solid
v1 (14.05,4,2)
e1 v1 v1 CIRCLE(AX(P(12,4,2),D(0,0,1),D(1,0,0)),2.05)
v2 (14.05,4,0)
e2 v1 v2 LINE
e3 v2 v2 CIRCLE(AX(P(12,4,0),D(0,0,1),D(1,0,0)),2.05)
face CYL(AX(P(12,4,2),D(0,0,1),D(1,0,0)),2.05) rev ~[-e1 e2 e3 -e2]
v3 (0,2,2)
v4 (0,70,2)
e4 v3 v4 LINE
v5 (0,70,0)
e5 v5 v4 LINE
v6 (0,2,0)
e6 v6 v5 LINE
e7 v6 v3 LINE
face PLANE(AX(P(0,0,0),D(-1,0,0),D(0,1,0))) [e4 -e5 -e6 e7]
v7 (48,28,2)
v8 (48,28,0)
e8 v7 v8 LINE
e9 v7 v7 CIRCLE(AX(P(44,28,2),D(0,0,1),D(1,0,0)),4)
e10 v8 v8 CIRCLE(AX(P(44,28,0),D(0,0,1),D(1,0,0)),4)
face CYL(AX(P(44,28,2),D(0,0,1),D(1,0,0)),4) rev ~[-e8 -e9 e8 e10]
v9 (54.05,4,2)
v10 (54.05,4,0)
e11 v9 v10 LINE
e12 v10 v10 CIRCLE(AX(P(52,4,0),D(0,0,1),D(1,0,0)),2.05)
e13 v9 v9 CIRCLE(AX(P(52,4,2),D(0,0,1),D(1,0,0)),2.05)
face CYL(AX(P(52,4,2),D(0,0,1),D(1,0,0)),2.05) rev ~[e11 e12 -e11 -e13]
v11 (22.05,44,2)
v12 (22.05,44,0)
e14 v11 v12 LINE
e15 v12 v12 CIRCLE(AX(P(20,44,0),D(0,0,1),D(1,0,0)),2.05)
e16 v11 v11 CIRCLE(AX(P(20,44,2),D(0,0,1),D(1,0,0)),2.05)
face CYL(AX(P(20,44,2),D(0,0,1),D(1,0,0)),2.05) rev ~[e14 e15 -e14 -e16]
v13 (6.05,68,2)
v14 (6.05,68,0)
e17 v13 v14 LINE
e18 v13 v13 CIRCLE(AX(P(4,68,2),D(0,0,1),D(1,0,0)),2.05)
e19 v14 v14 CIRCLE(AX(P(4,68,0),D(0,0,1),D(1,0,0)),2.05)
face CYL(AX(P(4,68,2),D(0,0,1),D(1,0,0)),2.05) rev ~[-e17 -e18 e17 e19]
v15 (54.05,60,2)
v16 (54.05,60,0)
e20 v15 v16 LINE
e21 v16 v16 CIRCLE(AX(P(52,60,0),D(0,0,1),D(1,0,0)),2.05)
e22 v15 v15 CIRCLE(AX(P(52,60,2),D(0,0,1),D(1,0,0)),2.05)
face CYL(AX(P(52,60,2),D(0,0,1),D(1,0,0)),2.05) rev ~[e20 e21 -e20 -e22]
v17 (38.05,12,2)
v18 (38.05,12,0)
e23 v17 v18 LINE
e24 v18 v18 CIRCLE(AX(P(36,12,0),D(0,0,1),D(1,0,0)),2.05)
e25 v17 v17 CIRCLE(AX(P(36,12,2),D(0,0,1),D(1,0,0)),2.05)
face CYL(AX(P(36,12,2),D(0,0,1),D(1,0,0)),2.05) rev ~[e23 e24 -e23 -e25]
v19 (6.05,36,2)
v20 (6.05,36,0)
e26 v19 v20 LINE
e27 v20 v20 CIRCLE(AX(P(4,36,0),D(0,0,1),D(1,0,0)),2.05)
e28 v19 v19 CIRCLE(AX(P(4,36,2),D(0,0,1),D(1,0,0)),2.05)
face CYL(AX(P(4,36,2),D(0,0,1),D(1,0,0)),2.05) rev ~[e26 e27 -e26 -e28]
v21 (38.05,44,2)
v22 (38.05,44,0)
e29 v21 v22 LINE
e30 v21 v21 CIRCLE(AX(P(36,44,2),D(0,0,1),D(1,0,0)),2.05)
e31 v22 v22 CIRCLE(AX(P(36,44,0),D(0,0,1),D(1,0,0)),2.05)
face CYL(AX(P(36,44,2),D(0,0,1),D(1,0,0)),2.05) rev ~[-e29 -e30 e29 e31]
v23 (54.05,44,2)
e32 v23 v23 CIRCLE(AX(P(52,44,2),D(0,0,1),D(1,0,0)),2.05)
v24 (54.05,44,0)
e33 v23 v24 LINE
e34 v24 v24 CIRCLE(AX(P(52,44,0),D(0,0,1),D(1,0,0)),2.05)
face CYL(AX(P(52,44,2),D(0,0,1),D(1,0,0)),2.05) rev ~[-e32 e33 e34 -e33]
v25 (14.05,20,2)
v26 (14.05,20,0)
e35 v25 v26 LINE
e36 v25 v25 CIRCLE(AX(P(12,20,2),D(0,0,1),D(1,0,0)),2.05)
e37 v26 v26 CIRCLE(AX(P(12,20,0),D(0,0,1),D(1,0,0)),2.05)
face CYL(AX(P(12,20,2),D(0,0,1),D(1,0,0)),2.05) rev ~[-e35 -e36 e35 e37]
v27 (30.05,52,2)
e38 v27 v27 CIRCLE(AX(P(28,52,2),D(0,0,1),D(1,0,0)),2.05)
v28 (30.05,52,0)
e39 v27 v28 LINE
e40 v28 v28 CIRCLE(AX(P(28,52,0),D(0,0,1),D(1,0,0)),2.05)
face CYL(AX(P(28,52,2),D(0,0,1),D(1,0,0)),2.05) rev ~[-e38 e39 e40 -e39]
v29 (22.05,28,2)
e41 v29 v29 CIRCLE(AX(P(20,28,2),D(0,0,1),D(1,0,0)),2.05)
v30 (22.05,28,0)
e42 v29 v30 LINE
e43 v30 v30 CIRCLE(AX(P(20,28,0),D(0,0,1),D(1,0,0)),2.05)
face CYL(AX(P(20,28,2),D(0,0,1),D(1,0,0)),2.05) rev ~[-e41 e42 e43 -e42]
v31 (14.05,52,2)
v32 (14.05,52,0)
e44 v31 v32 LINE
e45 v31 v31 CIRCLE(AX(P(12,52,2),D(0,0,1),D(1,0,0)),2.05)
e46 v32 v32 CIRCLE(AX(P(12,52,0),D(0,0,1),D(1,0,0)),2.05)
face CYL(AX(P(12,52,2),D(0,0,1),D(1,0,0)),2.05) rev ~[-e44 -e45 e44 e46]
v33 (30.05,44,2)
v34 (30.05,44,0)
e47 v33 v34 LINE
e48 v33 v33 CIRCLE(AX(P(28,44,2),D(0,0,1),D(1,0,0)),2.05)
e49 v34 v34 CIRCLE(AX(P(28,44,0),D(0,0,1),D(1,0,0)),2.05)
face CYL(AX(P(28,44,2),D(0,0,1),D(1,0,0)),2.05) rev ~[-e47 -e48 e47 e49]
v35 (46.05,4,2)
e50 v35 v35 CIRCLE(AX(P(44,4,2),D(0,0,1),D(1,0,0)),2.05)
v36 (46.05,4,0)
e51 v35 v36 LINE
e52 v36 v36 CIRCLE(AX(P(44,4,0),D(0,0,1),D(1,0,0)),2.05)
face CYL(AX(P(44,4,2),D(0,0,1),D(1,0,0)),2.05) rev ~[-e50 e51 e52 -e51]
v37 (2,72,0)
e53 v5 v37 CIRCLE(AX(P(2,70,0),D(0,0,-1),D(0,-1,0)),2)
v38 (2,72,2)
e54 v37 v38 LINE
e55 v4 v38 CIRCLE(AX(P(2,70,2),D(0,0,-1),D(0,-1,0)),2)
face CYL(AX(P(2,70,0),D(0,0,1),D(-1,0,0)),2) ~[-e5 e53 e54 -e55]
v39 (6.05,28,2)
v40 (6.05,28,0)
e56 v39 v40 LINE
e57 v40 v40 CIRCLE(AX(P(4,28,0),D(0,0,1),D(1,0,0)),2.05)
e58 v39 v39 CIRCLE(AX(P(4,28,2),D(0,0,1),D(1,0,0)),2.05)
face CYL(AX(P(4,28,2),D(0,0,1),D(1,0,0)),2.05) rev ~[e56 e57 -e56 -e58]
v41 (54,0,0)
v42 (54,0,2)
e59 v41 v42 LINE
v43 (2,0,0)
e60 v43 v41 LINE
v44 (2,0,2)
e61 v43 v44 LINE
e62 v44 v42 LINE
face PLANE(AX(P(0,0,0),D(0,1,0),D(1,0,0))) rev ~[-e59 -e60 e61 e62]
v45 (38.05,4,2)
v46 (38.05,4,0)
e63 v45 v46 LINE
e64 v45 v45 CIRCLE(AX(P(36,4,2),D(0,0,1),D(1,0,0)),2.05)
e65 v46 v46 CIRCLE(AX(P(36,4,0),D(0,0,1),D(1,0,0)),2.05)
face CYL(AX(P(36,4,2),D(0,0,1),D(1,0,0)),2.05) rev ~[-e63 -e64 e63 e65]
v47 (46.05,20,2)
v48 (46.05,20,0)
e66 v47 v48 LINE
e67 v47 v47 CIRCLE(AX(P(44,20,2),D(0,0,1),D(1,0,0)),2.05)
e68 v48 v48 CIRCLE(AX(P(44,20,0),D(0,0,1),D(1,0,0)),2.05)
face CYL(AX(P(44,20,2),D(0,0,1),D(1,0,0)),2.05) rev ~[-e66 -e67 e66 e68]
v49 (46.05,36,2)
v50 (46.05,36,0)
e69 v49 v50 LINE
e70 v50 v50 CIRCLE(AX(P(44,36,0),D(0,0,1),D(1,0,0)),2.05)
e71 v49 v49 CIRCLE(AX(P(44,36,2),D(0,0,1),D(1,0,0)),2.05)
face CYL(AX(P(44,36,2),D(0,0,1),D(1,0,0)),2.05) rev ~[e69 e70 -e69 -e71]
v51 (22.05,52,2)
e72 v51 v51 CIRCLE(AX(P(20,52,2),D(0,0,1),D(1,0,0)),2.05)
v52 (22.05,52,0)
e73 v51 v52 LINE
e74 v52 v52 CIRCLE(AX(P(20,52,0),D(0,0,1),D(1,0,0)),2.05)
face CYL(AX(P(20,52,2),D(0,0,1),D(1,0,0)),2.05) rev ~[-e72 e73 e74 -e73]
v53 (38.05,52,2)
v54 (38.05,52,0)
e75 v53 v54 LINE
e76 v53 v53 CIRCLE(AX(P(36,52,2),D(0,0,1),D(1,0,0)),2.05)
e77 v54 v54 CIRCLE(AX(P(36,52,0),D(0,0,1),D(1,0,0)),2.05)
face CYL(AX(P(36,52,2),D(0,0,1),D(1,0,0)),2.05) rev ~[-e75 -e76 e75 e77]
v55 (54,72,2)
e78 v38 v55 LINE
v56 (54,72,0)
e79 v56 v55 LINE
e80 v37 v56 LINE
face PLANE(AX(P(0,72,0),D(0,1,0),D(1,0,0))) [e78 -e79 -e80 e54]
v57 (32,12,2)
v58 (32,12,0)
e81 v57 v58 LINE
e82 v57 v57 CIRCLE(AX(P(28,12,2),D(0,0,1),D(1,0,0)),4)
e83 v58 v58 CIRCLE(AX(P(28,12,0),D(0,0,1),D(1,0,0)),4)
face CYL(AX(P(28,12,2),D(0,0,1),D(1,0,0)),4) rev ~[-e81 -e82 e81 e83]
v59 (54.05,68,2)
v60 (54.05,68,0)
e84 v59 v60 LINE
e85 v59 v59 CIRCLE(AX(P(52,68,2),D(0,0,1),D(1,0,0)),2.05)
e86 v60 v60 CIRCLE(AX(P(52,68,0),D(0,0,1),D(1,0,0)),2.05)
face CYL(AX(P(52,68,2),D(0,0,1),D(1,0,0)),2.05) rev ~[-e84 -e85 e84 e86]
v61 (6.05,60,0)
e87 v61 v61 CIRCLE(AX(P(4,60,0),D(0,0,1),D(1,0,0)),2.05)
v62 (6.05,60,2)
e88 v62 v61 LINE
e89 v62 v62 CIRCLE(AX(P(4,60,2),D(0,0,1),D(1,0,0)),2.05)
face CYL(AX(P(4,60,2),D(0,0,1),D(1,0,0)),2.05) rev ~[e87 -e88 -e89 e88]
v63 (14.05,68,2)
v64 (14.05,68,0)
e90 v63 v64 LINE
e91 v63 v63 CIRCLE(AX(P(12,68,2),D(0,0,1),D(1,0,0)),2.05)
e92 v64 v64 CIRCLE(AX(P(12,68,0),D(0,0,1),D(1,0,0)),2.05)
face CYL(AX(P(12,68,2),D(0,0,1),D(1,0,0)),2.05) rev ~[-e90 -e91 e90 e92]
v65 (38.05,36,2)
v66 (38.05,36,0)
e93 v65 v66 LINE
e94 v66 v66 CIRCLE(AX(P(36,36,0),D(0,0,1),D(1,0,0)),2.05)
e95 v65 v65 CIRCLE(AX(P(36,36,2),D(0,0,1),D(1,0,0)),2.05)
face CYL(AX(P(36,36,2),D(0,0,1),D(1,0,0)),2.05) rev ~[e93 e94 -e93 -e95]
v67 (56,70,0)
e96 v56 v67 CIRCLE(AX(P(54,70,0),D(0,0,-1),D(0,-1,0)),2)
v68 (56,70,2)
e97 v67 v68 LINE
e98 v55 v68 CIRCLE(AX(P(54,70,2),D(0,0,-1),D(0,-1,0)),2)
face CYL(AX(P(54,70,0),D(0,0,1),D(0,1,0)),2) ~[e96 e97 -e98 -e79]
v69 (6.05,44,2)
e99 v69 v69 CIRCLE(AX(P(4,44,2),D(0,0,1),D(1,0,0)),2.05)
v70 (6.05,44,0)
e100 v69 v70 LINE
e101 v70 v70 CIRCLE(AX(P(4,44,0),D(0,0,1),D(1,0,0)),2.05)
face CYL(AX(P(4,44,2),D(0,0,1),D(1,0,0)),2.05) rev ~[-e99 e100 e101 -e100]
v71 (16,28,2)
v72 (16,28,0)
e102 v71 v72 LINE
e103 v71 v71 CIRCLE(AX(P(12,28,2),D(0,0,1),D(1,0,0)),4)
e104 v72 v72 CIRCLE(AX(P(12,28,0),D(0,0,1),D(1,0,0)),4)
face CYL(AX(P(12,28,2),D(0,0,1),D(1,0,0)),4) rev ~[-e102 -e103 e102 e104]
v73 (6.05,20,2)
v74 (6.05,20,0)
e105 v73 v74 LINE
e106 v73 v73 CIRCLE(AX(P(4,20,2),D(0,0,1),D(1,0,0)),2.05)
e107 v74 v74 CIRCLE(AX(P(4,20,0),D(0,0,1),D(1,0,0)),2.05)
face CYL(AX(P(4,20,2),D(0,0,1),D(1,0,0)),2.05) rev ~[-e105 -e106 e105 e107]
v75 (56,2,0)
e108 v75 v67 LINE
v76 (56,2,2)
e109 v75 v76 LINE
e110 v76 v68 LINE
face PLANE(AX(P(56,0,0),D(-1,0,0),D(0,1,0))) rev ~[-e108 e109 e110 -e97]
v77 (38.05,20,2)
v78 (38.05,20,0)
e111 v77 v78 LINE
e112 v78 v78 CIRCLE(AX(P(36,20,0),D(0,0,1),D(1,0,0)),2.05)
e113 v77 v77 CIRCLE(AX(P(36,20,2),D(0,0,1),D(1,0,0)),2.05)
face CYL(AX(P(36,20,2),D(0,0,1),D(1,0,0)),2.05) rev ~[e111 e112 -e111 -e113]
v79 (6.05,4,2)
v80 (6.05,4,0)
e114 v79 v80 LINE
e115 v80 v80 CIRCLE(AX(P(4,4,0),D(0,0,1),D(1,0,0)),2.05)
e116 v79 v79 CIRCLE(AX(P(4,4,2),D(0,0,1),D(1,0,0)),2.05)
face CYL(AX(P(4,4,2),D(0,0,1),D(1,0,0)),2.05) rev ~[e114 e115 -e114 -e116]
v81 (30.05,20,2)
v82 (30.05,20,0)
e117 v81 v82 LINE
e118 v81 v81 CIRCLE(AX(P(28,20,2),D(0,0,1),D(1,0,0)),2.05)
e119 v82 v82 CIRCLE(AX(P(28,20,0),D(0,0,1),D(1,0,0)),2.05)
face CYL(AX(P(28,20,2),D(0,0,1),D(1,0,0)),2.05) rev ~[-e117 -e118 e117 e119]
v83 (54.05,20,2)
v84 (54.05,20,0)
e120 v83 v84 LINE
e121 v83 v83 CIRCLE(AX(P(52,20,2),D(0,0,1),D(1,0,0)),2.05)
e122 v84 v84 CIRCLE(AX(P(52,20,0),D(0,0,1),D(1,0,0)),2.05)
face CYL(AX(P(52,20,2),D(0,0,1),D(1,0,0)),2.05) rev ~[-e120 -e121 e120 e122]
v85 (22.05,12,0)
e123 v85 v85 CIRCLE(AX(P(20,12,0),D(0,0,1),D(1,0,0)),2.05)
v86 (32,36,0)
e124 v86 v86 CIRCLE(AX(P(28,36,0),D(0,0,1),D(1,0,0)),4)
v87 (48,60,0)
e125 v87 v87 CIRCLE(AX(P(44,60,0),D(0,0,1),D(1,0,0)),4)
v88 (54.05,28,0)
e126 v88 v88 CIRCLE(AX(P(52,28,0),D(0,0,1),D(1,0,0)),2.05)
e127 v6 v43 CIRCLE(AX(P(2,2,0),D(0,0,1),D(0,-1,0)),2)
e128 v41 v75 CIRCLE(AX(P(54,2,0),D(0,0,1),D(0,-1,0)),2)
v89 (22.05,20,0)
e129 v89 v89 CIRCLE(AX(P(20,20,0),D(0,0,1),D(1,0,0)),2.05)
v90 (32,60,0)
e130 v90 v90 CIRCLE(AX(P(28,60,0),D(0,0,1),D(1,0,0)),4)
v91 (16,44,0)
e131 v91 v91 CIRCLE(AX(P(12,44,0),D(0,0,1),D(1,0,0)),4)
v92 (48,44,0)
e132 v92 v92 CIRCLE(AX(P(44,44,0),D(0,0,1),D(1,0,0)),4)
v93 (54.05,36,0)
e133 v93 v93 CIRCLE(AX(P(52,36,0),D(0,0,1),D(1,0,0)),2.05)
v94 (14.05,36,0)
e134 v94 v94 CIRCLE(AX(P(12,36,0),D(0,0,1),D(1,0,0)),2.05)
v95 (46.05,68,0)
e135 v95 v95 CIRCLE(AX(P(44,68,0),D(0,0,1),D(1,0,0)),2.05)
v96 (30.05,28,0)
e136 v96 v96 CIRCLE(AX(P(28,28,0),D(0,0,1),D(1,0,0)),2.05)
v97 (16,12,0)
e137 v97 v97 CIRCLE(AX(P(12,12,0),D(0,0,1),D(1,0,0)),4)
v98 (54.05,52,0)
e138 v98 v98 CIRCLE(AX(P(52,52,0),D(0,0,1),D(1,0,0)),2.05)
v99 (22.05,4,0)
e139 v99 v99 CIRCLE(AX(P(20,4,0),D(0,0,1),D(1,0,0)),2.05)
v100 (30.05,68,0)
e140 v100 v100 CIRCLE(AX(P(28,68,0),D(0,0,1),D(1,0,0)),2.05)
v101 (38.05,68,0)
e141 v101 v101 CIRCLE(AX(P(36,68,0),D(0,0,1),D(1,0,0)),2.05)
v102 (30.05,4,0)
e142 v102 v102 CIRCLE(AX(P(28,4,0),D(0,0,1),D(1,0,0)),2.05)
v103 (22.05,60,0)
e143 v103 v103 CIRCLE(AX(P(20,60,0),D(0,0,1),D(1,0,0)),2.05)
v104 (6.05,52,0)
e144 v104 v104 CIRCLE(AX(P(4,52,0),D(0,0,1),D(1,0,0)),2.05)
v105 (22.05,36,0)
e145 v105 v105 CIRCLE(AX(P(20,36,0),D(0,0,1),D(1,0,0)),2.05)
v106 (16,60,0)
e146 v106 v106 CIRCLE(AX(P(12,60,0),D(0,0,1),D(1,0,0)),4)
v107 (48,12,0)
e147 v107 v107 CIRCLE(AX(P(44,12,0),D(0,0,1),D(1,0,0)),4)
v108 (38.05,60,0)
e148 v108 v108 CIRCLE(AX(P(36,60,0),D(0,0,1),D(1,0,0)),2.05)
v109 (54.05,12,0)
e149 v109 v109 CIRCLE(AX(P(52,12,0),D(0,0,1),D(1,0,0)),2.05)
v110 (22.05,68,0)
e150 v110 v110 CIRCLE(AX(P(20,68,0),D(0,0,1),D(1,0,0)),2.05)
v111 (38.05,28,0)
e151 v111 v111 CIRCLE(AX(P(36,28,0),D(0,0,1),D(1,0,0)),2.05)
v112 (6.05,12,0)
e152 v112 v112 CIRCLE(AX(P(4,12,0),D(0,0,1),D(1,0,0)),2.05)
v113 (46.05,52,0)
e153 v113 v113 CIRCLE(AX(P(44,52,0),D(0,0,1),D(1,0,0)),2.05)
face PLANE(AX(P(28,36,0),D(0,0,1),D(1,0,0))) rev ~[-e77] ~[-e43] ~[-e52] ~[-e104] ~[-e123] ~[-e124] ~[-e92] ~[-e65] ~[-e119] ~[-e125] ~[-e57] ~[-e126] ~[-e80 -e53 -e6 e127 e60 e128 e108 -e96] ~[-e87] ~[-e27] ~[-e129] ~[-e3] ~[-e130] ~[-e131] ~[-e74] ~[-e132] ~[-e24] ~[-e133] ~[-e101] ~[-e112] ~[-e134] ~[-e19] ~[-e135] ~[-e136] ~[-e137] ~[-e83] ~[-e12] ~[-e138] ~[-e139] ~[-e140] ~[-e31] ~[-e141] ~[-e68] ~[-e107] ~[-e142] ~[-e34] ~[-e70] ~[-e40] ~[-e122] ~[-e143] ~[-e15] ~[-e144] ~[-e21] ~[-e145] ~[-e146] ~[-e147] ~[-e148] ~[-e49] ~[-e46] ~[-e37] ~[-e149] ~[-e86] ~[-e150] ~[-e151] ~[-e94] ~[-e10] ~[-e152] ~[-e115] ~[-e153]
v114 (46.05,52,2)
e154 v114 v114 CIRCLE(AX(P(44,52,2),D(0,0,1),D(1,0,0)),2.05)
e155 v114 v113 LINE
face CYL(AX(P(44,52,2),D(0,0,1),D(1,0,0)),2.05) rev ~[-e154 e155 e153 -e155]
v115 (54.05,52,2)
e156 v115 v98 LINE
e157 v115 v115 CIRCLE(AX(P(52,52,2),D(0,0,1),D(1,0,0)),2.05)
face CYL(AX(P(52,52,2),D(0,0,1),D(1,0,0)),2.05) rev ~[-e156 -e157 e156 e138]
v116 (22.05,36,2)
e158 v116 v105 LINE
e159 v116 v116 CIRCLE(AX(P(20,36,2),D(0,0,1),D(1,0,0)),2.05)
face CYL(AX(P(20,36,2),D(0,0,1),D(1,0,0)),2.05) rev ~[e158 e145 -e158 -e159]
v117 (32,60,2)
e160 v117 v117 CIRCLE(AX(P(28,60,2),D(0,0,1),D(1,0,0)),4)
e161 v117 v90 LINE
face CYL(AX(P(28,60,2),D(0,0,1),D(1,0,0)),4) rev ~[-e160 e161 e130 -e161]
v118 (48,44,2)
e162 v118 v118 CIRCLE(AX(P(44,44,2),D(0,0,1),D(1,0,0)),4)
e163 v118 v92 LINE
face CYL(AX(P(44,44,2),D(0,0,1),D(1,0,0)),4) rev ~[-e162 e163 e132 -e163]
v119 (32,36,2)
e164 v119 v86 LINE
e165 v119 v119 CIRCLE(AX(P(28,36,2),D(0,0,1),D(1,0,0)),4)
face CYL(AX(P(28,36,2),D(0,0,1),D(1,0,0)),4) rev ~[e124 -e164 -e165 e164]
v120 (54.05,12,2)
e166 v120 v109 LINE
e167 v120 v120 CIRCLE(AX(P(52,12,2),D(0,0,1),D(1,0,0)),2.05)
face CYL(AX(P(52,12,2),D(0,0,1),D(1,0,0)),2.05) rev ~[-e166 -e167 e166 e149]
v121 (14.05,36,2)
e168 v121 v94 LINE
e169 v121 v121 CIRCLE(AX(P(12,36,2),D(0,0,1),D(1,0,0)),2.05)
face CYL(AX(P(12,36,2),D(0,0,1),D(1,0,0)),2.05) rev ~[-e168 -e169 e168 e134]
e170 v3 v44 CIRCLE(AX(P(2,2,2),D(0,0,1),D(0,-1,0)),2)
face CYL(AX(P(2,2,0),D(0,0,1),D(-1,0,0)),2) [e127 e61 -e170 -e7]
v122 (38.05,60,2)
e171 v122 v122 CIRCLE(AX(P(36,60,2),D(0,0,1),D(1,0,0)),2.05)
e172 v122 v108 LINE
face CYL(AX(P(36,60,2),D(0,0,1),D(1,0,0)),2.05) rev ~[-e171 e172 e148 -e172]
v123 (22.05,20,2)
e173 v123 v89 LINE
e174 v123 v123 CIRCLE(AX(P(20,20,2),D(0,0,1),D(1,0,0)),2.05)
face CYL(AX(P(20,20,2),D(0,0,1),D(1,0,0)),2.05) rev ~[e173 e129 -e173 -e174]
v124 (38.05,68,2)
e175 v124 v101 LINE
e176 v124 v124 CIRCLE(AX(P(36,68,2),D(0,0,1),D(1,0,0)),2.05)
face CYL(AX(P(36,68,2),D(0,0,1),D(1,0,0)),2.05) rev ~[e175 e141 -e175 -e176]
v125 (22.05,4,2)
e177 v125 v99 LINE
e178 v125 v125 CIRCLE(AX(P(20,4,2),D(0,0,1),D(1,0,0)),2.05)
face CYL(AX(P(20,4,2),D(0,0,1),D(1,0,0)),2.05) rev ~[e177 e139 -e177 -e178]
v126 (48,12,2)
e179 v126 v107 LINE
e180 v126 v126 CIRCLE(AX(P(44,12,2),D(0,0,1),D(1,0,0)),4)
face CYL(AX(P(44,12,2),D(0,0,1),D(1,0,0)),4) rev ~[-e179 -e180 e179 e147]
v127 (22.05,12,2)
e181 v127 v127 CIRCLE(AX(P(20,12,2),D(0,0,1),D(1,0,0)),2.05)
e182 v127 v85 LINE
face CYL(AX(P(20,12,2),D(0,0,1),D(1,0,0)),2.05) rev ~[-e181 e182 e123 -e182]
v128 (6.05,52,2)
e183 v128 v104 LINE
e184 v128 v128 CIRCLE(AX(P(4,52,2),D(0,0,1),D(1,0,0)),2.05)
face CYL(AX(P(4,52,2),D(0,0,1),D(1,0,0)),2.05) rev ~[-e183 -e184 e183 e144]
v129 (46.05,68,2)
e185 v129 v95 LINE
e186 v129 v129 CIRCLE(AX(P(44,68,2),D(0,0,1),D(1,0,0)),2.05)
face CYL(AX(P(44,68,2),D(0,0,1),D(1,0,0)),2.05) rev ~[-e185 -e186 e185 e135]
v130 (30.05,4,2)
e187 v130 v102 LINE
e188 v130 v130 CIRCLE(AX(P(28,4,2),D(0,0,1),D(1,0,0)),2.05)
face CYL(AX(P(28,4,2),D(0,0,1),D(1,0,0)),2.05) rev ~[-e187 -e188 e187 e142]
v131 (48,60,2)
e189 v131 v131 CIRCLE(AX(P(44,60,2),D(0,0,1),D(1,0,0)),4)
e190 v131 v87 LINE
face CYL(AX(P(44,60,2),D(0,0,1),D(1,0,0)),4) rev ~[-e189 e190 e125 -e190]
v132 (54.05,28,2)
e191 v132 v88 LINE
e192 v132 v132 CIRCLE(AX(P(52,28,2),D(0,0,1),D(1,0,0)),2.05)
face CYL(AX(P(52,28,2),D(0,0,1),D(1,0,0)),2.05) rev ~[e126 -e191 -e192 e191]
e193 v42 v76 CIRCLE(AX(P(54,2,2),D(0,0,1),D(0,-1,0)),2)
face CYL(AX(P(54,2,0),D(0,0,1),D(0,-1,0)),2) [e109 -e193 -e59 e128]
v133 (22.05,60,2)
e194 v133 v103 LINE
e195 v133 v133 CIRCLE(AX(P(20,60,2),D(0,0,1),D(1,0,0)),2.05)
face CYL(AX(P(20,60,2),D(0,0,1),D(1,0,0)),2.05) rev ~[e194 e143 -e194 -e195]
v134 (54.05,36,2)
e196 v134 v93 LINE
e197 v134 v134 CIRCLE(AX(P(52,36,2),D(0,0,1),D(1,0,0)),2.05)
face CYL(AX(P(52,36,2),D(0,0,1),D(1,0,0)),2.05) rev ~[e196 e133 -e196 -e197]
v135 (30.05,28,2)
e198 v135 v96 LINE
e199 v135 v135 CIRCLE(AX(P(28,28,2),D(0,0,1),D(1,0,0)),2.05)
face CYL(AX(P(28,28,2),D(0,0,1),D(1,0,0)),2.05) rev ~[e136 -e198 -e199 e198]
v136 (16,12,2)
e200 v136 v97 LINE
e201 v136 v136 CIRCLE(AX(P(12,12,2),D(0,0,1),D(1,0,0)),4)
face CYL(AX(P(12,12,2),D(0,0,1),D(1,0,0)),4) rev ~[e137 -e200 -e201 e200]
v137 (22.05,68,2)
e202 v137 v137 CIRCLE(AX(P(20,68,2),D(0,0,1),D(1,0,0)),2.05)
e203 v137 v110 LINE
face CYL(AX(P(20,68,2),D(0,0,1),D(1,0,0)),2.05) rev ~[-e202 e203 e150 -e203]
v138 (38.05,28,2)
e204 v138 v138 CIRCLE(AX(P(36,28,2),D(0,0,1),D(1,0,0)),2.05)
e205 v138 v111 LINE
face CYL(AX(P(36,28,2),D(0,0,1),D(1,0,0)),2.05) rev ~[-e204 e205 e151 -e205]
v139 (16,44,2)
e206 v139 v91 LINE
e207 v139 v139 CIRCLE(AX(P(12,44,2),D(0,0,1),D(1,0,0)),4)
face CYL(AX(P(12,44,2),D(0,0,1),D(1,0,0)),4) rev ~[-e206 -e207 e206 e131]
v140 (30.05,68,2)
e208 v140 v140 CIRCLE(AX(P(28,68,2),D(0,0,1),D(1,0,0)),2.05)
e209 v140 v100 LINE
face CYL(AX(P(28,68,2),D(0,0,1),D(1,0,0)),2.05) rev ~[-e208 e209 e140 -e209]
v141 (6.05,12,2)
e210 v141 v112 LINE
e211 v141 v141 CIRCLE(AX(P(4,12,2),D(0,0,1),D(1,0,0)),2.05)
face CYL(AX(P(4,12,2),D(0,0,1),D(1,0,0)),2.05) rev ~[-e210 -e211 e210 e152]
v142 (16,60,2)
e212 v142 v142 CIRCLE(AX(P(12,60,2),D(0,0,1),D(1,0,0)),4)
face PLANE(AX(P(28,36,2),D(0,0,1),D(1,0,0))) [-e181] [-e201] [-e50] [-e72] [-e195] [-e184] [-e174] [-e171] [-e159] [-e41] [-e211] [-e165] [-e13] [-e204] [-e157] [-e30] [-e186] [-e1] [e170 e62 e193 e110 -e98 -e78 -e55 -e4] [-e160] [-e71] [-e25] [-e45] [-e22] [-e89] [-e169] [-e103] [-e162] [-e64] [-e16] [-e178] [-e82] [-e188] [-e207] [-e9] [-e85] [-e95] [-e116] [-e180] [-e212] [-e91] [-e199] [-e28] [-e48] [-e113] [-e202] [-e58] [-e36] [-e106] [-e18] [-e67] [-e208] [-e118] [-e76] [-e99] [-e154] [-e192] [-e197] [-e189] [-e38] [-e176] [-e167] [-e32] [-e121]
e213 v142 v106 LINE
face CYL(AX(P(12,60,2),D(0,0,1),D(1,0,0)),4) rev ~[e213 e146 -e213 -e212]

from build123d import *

# Parameters (mm, degrees)
SKETCH1_W            = 56
SKETCH1_H            = 72
BOSS_EXTRUDE1_DEPTH  = 2
SKETCH2_R            = 2.05
CUT_EXTRUDE1_DEPTH   = 92.235957824
LPATTERN1_COUNT      = 7
LPATTERN1_PITCH      = 8
LPATTERN1_COUNT_DIR2 = 9
LPATTERN1_PITCH_DIR2 = 8
FILLET1_R            = 2
SKETCH3_R            = 4
CUT_EXTRUDE2_DEPTH   = 92.235957824
LPATTERN2_COUNT      = 3
LPATTERN2_PITCH      = 16
LPATTERN2_COUNT_DIR2 = 4
LPATTERN2_PITCH_DIR2 = 16
SKETCH4_R            = 4
CUT_EXTRUDE3_DEPTH   = 92.235957824


with BuildPart() as part:
    # Sketch1 → Boss-Extrude1 (new body)
    with BuildSketch(Plane.XY):
        with Locations((28, 36)):
            Rectangle(SKETCH1_W, SKETCH1_H)
    extrude(amount=BOSS_EXTRUDE1_DEPTH)

    # Sketch2 → Cut-Extrude1 (cut, through all)
    with BuildSketch(Plane.XY.offset(2)):
        with Locations((4, 68)):
            Circle(SKETCH2_R)
    cut_extrude1 = extrude(amount=-CUT_EXTRUDE1_DEPTH, mode=Mode.SUBTRACT)

    # LPattern1: Cut-Extrude1 7 × 9, 11 skipped
    with Locations(*[(i * LPATTERN1_PITCH, -j * LPATTERN1_PITCH_DIR2, 0) for i in range(LPATTERN1_COUNT) for j in range(LPATTERN1_COUNT_DIR2) if (i, j) not in ((0, 0), (1, 1), (1, 3), (1, 5), (1, 7), (3, 1), (3, 4), (3, 7), (5, 1), (5, 3), (5, 5), (5, 7))]):
        add(cut_extrude1, mode=Mode.SUBTRACT)

    # Fillet1
    fillet1_edges = [part.edges().sort_by_distance(p)[0] for p in [
        (0, 72, 1),
        (56, 72, 1),
        (56, 0, 1),
        (0, 0, 1),
    ]]
    fillet(fillet1_edges, radius=FILLET1_R)

    # Sketch3 → Cut-Extrude2 (cut, through all)
    with BuildSketch(Plane.XY.offset(2)):
        with Locations((12, 60)):
            Circle(SKETCH3_R)
    cut_extrude2 = extrude(amount=-CUT_EXTRUDE2_DEPTH, mode=Mode.SUBTRACT)

    # LPattern2: Cut-Extrude2 3 × 4, 2 skipped
    with Locations(*[(i * LPATTERN2_PITCH, -j * LPATTERN2_PITCH_DIR2, 0) for i in range(LPATTERN2_COUNT) for j in range(LPATTERN2_COUNT_DIR2) if (i, j) not in ((0, 0), (1, 1), (1, 2))]):
        add(cut_extrude2, mode=Mode.SUBTRACT)

    # Sketch4 → Cut-Extrude3 (cut, through all)
    with BuildSketch(Plane.XY.offset(2)):
        with Locations((28, 36)):
            Circle(SKETCH4_R)
    extrude(amount=-CUT_EXTRUDE3_DEPTH, mode=Mode.SUBTRACT)


solid = part.part
